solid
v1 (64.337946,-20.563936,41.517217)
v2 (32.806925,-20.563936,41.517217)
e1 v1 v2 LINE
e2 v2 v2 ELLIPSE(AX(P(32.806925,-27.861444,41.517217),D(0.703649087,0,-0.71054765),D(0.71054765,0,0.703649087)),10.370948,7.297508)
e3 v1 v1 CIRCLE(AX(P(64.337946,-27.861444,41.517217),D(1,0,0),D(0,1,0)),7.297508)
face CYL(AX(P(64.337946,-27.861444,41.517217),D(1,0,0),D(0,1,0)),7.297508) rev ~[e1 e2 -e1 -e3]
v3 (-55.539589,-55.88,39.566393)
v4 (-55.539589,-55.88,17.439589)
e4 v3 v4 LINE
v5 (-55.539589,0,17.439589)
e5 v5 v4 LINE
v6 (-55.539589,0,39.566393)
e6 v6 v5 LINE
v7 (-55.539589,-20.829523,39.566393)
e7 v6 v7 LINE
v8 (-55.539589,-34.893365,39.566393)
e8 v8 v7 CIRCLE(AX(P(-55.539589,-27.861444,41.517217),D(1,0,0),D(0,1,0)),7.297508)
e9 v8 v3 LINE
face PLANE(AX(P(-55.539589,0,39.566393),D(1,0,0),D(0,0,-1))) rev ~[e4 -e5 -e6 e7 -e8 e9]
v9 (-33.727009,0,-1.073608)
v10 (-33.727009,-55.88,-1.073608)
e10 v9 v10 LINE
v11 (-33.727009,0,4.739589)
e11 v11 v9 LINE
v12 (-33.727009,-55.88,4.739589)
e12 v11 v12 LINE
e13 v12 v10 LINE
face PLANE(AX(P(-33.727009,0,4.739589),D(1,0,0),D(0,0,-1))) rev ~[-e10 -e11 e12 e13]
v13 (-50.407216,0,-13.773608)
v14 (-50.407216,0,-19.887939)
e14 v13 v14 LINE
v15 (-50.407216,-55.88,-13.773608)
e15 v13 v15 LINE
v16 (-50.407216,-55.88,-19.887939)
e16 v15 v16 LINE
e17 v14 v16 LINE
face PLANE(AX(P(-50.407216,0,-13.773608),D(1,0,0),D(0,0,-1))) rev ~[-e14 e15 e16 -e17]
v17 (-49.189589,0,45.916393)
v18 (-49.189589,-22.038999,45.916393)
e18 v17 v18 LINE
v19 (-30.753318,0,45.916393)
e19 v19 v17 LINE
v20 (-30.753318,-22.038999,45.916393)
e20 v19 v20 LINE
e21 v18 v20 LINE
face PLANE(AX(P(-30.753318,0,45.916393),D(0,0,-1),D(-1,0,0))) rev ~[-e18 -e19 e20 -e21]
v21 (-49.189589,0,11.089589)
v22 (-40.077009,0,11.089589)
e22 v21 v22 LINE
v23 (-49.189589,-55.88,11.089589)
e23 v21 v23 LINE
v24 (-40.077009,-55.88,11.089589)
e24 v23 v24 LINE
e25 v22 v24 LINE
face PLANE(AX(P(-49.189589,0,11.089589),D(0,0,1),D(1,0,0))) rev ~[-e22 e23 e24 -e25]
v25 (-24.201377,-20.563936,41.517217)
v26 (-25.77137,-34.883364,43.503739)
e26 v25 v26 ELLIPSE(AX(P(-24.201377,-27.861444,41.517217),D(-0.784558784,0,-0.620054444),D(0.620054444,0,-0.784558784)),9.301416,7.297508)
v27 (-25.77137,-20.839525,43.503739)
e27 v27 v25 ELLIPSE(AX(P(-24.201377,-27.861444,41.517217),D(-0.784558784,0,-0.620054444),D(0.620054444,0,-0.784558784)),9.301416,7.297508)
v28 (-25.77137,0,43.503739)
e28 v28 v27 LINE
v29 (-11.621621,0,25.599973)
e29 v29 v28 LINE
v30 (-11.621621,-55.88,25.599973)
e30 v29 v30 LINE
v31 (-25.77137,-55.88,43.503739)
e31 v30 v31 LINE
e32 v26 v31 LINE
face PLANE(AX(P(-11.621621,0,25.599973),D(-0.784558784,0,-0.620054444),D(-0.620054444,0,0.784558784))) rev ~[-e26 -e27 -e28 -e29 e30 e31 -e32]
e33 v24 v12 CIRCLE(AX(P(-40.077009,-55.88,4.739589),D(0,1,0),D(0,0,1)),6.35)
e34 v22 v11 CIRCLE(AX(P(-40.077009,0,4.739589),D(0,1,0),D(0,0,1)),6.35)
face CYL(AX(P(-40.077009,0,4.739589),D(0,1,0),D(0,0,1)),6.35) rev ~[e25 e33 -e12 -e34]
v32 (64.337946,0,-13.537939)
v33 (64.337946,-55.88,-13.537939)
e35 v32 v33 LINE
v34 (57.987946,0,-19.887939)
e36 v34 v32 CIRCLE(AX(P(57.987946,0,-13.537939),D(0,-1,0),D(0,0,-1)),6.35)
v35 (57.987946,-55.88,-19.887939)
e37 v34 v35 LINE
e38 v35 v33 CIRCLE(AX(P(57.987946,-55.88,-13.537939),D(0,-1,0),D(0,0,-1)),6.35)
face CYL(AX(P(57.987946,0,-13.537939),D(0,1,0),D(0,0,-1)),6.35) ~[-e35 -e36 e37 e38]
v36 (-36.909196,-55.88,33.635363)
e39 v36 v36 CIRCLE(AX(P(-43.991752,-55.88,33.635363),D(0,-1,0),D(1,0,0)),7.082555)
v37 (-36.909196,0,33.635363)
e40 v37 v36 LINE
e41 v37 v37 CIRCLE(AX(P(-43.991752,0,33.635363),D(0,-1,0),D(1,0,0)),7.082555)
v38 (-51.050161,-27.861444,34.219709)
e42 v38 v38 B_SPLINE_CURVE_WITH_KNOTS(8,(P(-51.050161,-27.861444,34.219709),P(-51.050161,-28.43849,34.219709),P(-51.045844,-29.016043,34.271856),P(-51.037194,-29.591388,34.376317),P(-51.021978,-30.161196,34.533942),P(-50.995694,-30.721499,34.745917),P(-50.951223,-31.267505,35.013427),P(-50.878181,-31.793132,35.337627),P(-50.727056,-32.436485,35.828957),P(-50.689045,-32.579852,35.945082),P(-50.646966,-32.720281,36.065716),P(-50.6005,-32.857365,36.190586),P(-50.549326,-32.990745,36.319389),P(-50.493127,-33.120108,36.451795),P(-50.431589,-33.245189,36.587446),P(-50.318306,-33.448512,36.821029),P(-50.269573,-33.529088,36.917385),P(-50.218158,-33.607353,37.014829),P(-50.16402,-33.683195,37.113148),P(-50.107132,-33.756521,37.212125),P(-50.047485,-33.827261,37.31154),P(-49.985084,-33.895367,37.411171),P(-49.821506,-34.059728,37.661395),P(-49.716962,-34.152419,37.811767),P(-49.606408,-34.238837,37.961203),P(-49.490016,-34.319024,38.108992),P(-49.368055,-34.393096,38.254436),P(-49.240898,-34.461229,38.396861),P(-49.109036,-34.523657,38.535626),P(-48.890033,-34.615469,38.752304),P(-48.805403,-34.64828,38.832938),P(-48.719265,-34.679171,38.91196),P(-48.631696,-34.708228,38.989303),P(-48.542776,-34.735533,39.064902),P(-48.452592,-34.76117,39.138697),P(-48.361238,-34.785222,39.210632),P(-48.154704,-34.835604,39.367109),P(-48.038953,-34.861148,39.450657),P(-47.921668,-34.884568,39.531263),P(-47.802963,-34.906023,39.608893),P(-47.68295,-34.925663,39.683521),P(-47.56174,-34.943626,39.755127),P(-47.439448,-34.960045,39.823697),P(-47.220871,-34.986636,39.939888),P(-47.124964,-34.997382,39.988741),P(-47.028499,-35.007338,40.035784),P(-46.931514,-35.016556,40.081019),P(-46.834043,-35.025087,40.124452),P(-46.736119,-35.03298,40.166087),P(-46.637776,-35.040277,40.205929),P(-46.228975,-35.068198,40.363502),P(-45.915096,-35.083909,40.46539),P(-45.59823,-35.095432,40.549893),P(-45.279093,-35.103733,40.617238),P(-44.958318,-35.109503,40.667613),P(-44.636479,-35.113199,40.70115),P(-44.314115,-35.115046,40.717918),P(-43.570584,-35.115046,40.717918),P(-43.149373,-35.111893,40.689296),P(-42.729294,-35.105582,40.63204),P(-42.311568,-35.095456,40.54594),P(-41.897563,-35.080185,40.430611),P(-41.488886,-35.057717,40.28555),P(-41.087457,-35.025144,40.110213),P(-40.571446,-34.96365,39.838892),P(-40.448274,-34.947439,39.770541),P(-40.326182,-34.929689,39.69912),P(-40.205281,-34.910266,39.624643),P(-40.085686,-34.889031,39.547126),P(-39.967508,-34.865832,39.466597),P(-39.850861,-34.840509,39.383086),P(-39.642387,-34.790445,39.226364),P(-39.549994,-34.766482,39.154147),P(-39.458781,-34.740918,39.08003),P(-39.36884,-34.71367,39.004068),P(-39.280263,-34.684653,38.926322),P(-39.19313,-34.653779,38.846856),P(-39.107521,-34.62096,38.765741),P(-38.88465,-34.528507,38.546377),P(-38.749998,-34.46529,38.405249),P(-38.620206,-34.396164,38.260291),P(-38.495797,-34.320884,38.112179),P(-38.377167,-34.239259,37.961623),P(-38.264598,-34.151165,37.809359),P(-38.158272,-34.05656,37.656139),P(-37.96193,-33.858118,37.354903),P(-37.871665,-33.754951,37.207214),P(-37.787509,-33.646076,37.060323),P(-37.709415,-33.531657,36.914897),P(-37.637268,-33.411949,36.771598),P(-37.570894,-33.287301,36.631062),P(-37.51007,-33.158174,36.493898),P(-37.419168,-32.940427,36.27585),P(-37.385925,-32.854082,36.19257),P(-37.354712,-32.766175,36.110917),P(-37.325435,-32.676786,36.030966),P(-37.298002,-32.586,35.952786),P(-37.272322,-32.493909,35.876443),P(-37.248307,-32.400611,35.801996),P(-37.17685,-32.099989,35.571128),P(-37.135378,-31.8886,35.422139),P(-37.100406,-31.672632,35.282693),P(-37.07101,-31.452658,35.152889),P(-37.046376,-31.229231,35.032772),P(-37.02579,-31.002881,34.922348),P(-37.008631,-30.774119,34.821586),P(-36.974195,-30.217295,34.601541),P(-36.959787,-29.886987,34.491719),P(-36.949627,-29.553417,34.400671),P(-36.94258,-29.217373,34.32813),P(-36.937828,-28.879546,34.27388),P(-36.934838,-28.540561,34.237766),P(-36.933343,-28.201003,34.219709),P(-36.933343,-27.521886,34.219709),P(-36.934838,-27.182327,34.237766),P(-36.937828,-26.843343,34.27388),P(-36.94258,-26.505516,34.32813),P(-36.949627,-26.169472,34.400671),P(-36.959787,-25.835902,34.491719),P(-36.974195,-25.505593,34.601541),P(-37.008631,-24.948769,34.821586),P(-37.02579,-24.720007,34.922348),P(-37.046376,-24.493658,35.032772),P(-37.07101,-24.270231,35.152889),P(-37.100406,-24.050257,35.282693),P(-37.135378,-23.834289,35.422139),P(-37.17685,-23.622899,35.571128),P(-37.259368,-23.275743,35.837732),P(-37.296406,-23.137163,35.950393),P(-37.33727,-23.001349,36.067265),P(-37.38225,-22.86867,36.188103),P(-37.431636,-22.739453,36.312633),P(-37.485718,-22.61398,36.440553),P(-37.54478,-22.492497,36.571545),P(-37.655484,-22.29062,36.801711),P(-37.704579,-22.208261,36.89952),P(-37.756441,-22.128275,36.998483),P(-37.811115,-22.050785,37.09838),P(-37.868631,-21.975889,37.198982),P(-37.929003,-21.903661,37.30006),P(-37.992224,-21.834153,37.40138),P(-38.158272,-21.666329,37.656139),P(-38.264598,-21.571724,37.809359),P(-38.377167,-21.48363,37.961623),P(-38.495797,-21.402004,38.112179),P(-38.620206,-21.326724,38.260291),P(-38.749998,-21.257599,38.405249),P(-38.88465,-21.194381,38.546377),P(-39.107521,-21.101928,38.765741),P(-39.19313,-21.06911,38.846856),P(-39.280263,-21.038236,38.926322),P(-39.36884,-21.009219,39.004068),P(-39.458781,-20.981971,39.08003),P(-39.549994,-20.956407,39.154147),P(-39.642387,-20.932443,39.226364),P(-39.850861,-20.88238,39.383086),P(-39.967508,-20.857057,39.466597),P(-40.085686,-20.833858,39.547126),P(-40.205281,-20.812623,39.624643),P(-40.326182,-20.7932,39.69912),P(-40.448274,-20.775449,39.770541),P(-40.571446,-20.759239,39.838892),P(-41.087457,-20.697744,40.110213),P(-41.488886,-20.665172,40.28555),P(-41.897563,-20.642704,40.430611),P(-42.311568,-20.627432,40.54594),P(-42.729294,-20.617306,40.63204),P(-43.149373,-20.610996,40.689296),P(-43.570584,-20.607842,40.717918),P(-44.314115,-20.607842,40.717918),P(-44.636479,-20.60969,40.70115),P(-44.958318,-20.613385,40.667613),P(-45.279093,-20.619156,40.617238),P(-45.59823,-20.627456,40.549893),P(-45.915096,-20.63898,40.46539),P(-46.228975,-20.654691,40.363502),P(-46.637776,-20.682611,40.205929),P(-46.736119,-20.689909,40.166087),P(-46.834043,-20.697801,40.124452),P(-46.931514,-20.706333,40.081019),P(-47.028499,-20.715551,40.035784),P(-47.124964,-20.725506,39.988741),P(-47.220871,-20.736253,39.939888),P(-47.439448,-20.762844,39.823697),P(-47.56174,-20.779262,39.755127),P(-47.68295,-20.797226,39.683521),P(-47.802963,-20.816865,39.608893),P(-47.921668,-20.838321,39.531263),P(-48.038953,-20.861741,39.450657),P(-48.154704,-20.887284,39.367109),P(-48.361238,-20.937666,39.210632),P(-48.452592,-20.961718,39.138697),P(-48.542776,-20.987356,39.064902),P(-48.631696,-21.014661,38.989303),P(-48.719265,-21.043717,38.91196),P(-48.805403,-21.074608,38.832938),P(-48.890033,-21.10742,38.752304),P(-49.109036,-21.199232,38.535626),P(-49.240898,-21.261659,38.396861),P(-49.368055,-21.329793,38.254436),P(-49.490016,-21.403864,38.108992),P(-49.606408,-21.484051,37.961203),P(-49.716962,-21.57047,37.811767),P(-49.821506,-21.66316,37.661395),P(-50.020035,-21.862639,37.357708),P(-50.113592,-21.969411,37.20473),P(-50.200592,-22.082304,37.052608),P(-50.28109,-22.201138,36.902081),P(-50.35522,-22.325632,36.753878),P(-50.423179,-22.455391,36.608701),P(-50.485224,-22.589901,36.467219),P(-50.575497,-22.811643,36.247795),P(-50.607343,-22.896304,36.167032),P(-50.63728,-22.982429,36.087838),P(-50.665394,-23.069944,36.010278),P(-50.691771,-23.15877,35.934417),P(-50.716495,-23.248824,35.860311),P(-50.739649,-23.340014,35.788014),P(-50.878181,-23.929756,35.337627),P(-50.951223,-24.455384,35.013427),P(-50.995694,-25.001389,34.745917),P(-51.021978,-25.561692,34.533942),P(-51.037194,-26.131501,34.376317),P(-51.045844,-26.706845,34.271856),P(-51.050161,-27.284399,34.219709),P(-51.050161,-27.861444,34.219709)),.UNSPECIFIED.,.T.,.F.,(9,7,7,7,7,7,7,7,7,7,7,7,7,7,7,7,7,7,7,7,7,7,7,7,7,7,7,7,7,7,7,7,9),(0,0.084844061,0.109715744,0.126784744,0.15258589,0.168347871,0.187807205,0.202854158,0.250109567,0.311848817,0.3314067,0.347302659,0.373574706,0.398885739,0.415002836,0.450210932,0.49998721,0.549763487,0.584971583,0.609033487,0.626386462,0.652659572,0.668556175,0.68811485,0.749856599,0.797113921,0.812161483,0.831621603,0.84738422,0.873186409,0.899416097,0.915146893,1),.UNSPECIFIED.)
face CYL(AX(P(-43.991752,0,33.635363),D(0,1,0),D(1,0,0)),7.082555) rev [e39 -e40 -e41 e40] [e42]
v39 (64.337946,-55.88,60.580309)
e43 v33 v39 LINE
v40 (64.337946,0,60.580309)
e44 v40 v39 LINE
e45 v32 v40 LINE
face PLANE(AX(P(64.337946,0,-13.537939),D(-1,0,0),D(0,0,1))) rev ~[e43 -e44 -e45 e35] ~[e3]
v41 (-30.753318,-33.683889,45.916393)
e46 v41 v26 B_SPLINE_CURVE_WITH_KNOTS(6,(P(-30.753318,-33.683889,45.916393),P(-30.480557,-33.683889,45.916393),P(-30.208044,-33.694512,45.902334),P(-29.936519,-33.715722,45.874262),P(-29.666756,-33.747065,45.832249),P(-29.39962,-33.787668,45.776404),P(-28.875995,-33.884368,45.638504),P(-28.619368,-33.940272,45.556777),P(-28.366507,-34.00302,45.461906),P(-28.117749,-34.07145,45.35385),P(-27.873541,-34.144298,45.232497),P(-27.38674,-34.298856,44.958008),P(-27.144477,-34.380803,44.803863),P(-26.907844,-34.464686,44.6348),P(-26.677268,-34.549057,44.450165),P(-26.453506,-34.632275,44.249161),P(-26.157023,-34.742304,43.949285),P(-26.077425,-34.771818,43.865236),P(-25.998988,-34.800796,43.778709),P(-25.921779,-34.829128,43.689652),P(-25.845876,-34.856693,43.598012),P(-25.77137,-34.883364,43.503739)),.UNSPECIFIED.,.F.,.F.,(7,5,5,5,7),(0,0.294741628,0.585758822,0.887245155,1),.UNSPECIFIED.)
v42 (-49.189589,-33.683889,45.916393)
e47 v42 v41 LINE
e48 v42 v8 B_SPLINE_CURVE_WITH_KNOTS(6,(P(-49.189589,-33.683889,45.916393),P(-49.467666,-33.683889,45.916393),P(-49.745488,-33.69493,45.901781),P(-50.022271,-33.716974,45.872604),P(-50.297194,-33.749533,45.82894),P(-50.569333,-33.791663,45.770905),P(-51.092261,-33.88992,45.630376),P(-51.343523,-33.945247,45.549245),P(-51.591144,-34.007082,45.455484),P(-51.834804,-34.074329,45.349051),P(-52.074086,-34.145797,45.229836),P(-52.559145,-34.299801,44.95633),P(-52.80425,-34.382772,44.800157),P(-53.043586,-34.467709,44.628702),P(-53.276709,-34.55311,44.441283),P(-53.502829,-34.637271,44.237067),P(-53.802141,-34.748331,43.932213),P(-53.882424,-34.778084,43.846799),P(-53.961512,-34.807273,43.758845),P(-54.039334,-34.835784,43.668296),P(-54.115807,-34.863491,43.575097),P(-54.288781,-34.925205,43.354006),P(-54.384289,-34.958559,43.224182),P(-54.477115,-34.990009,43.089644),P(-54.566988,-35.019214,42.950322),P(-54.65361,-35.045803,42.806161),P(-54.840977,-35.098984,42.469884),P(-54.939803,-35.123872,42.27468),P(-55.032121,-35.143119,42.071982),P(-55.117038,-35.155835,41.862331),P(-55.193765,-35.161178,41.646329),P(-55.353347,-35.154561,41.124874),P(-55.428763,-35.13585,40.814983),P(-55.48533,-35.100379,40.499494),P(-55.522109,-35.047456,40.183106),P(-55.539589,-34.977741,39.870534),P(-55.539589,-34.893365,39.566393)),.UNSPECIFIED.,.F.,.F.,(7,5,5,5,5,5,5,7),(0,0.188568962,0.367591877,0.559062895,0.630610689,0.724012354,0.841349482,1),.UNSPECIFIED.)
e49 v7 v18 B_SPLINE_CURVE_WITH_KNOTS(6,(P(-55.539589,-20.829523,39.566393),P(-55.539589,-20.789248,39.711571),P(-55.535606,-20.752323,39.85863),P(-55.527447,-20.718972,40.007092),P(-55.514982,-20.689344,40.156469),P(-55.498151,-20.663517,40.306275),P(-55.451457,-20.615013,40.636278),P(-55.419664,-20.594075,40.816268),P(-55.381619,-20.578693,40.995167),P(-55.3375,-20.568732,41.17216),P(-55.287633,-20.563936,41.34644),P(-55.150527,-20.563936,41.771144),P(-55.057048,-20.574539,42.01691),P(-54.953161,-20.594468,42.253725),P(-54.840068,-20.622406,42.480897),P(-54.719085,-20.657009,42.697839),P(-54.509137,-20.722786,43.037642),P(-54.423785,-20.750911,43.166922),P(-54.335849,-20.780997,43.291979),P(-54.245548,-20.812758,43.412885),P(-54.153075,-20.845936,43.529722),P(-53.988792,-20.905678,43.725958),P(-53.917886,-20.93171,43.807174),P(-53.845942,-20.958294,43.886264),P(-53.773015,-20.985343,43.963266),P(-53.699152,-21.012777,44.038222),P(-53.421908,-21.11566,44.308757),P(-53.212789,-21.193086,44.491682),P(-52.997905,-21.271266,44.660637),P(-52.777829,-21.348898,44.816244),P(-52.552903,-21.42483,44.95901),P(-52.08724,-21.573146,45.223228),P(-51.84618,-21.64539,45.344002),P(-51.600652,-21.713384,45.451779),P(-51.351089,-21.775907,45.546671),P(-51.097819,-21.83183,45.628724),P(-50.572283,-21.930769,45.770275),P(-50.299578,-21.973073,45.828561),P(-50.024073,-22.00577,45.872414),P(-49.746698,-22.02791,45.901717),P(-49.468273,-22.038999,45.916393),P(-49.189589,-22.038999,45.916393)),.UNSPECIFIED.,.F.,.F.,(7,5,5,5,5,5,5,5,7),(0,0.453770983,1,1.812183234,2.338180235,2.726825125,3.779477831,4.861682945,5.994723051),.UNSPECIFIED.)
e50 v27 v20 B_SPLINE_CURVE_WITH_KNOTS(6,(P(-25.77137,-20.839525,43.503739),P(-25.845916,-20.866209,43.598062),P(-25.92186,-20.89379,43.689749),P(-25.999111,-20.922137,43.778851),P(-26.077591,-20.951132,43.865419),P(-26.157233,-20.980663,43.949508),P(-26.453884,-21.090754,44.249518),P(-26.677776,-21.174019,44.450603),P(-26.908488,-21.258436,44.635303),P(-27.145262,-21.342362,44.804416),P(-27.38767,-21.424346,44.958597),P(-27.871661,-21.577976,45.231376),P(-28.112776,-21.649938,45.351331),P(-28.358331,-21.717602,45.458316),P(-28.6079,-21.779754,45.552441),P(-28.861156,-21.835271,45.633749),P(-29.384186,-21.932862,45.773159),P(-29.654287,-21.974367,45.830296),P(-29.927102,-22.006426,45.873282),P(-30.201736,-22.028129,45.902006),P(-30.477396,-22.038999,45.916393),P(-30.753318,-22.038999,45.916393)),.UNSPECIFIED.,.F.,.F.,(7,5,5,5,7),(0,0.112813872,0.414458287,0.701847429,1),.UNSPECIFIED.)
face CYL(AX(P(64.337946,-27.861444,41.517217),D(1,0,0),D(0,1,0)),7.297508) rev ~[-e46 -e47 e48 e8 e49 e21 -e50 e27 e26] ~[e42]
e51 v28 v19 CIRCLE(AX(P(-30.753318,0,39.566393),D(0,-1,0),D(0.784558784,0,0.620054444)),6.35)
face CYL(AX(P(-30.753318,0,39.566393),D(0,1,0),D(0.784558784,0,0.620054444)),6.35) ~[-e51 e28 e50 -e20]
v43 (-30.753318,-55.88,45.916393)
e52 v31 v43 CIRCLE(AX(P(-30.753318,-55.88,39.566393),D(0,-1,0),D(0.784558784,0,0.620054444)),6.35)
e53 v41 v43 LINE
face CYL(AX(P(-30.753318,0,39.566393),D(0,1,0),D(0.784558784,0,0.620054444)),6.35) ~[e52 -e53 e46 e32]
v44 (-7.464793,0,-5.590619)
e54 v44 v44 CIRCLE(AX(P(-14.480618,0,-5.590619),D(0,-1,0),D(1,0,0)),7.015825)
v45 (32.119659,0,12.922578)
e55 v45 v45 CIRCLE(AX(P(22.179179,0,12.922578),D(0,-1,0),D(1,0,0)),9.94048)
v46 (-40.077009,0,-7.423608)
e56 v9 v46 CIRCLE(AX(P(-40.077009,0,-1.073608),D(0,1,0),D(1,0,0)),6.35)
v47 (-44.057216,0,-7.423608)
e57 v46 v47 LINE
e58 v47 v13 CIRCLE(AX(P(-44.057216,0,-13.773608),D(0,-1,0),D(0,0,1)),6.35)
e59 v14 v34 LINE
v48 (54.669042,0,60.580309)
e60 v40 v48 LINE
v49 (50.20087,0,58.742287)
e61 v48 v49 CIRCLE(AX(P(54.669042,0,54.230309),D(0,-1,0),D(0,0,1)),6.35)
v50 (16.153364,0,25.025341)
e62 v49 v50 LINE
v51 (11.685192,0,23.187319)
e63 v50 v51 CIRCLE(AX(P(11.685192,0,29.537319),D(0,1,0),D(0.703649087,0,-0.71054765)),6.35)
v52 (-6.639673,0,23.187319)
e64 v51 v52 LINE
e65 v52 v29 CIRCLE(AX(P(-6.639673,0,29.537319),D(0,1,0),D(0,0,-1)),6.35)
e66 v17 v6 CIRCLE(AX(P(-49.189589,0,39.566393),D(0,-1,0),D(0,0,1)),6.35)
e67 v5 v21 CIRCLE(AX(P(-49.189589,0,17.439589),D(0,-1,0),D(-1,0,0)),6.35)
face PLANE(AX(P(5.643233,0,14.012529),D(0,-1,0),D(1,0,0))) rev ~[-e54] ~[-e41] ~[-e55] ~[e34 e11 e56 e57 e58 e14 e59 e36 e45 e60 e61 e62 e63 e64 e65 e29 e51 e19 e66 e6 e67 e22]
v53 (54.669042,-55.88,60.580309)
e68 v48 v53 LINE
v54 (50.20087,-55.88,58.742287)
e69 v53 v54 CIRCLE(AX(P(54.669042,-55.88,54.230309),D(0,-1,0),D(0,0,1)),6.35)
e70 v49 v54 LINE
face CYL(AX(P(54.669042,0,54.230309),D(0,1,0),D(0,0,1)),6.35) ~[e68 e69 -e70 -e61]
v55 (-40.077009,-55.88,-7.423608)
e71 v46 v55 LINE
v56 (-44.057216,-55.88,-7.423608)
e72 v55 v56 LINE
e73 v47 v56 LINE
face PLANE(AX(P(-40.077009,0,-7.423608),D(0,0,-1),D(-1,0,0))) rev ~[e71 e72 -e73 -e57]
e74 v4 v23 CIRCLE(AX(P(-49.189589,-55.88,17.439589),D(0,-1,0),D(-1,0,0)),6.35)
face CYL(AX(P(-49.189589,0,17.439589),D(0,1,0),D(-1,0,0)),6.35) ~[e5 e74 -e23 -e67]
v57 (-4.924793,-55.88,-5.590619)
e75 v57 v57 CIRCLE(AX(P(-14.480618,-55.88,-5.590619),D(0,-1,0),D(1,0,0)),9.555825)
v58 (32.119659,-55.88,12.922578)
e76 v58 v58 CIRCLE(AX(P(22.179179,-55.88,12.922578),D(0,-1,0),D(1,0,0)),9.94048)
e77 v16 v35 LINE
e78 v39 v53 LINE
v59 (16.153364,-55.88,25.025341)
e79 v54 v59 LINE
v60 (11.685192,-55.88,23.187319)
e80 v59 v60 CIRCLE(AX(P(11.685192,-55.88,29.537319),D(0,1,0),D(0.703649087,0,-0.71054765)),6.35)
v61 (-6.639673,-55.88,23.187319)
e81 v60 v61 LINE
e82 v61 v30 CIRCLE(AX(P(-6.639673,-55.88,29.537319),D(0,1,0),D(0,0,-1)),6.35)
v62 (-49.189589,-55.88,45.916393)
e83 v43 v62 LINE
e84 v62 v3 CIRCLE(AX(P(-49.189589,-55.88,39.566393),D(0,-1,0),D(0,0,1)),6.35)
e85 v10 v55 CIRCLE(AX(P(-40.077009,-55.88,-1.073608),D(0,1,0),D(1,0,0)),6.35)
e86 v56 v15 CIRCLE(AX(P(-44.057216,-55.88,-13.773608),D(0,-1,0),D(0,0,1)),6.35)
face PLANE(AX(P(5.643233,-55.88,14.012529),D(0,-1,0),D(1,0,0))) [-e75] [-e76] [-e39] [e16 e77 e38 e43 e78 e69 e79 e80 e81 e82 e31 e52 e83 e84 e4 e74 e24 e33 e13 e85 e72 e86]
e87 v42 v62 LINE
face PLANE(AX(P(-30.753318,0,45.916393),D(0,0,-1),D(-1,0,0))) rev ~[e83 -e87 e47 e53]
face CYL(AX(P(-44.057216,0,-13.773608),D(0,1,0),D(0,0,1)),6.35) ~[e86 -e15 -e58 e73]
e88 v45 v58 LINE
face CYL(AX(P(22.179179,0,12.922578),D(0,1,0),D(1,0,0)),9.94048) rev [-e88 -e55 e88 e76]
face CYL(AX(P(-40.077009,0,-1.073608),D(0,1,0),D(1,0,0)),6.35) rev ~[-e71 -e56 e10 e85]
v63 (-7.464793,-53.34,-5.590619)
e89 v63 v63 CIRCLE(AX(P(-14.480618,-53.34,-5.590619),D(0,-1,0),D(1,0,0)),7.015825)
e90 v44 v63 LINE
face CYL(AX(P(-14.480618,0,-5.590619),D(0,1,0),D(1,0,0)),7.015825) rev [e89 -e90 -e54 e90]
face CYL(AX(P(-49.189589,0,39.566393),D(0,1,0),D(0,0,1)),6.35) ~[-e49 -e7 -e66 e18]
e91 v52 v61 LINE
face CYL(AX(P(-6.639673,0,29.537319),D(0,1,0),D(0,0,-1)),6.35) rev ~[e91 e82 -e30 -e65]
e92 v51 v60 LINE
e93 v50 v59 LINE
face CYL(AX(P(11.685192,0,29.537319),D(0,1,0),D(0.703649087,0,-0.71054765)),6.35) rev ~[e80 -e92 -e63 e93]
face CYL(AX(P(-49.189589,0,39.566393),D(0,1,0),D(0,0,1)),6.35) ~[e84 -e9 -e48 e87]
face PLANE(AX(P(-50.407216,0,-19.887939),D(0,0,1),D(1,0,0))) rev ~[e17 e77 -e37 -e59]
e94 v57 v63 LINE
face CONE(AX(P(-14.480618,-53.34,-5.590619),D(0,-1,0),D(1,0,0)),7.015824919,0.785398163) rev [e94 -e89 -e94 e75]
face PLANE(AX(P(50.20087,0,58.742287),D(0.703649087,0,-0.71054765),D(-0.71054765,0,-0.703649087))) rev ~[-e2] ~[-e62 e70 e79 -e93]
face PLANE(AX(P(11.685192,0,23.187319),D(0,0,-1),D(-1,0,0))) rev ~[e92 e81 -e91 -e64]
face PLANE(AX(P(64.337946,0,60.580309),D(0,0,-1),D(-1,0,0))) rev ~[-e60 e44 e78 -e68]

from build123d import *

# Parameters (mm, degrees)
F0_R       = 7.0158249189
F0_R_2     = 7.6708
F0_R_3     = 9.9404801973
F0_R_4     = 7.0825554901
F1_DEPTH   = 55.88
F2_R       = 7.297507907
F1_FACE1_W = 55.88
F1_FACE1_H = 22.1268048838
F3_DEPTH   = 119.8785358498
F4_SIZE    = 2.54


with BuildPart() as f1:
    # F0 (on Front) → F1 (new body)
    with BuildSketch(Plane.XZ):
        with BuildLine():
            Line((-30.753318463, 45.9163933992), (-49.1895893753, 45.9163933992))
            ThreePointArc((-49.1895893753, 45.9163933992), (-53.6797174358, 44.0565214598), (-55.5395893753, 39.5663933992))
            Line((-55.5395893753, 39.5663933992), (-55.5395893753, 17.4395885155))
            ThreePointArc((-55.5395893753, 17.4395885155), (-53.6797174358, 12.9494604549), (-49.1895893753, 11.0895885155))
            Line((-49.1895893753, 11.0895885155), (-40.0770088494, 11.0895885155))
            ThreePointArc((-40.0770088494, 11.0895885155), (-35.5868807888, 9.229716576), (-33.7270088494, 4.7395885155))
            Line((-33.7270088494, 4.7395885155), (-33.7270088494, -1.0736080982))
            ThreePointArc((-33.7270088494, -1.0736080982), (-35.5868807888, -5.5637361587), (-40.0770088494, -7.4236080982))
            Line((-40.0770088494, -7.4236080982), (-44.0572159529, -7.4236080982))
            ThreePointArc((-44.0572159529, -7.4236080982), (-48.5473440134, -9.2834800376), (-50.4072159529, -13.7736080982))
            Line((-50.4072159529, -13.7736080982), (-50.4072159529, -19.8879390955))
            Line((-50.4072159529, -19.8879390955), (57.9879464746, -19.8879390955))
            ThreePointArc((57.9879464746, -19.8879390955), (62.4780745351, -18.028067156), (64.3379464746, -13.5379390955))
            Line((64.3379464746, -13.5379390955), (64.3379464746, 60.5803094804))
            Line((64.3379464746, 60.5803094804), (54.6690416703, 60.5803094804))
            ThreePointArc((54.6690416703, 60.5803094804), (52.2533179297, 60.1028539723), (50.2008699704, 58.742287058))
            Line((50.2008699704, 58.742287058), (16.1533638011, 25.0253412392))
            ThreePointArc((16.1533638011, 25.0253412392), (14.1009158419, 23.6647743249), (11.6851921012, 23.1873188168))
            Line((11.6851921012, 23.1873188168), (-6.639673132, 23.1873188168))
            ThreePointArc((-6.639673132, 23.1873188168), (-9.4073756693, 23.8222227839), (-11.6216214126, 25.5999730955))
            Line((-11.6216214126, 25.5999730955), (-25.7713701823, 43.5037391206))
            ThreePointArc((-25.7713701823, 43.5037391206), (-27.9856159257, 45.2814894321), (-30.753318463, 45.9163933992))
        make_face()
        with Locations((-14.4806178287, -5.590618588)):
            Circle(F0_R, mode=Mode.SUBTRACT)
        with Locations((48.0243302882, -7.7902064659)):
            Circle(F0_R_2, mode=Mode.SUBTRACT)
        with Locations((22.1791788936, 12.9225775599)):
            Circle(F0_R_3, mode=Mode.SUBTRACT)
        with Locations((-43.9917519689, 33.6353629827)):
            Circle(F0_R_4, mode=Mode.SUBTRACT)
        with Locations((48.0243302882, -7.7902064659)):
            Circle(F0_R_2)
    extrude(amount=F1_DEPTH)

    # F2 (on face) + F1_face1 (on face) → F3 (cut, through all)
    with BuildSketch(Plane.YZ.offset(64.3379464746)):
        with Locations((-27.8614442796, 41.5172167122)):
            Circle(F2_R)
    with BuildSketch(Plane(origin=(-55.5395893753, -27.94, 28.5029909573), x_dir=(0, -1, 0), z_dir=(-1, 0, 0))):
        Rectangle(F1_FACE1_W, F1_FACE1_H)
    extrude(amount=-F3_DEPTH, dir=(1, 0, 0), mode=Mode.SUBTRACT)

    # F4
    f4_edges = [f1.edges().sort_by_distance(p)[0] for p in [
        (-21.496443, -55.88, -5.590619),
    ]]
    chamfer(f4_edges, length=F4_SIZE)


solid = f1.part
